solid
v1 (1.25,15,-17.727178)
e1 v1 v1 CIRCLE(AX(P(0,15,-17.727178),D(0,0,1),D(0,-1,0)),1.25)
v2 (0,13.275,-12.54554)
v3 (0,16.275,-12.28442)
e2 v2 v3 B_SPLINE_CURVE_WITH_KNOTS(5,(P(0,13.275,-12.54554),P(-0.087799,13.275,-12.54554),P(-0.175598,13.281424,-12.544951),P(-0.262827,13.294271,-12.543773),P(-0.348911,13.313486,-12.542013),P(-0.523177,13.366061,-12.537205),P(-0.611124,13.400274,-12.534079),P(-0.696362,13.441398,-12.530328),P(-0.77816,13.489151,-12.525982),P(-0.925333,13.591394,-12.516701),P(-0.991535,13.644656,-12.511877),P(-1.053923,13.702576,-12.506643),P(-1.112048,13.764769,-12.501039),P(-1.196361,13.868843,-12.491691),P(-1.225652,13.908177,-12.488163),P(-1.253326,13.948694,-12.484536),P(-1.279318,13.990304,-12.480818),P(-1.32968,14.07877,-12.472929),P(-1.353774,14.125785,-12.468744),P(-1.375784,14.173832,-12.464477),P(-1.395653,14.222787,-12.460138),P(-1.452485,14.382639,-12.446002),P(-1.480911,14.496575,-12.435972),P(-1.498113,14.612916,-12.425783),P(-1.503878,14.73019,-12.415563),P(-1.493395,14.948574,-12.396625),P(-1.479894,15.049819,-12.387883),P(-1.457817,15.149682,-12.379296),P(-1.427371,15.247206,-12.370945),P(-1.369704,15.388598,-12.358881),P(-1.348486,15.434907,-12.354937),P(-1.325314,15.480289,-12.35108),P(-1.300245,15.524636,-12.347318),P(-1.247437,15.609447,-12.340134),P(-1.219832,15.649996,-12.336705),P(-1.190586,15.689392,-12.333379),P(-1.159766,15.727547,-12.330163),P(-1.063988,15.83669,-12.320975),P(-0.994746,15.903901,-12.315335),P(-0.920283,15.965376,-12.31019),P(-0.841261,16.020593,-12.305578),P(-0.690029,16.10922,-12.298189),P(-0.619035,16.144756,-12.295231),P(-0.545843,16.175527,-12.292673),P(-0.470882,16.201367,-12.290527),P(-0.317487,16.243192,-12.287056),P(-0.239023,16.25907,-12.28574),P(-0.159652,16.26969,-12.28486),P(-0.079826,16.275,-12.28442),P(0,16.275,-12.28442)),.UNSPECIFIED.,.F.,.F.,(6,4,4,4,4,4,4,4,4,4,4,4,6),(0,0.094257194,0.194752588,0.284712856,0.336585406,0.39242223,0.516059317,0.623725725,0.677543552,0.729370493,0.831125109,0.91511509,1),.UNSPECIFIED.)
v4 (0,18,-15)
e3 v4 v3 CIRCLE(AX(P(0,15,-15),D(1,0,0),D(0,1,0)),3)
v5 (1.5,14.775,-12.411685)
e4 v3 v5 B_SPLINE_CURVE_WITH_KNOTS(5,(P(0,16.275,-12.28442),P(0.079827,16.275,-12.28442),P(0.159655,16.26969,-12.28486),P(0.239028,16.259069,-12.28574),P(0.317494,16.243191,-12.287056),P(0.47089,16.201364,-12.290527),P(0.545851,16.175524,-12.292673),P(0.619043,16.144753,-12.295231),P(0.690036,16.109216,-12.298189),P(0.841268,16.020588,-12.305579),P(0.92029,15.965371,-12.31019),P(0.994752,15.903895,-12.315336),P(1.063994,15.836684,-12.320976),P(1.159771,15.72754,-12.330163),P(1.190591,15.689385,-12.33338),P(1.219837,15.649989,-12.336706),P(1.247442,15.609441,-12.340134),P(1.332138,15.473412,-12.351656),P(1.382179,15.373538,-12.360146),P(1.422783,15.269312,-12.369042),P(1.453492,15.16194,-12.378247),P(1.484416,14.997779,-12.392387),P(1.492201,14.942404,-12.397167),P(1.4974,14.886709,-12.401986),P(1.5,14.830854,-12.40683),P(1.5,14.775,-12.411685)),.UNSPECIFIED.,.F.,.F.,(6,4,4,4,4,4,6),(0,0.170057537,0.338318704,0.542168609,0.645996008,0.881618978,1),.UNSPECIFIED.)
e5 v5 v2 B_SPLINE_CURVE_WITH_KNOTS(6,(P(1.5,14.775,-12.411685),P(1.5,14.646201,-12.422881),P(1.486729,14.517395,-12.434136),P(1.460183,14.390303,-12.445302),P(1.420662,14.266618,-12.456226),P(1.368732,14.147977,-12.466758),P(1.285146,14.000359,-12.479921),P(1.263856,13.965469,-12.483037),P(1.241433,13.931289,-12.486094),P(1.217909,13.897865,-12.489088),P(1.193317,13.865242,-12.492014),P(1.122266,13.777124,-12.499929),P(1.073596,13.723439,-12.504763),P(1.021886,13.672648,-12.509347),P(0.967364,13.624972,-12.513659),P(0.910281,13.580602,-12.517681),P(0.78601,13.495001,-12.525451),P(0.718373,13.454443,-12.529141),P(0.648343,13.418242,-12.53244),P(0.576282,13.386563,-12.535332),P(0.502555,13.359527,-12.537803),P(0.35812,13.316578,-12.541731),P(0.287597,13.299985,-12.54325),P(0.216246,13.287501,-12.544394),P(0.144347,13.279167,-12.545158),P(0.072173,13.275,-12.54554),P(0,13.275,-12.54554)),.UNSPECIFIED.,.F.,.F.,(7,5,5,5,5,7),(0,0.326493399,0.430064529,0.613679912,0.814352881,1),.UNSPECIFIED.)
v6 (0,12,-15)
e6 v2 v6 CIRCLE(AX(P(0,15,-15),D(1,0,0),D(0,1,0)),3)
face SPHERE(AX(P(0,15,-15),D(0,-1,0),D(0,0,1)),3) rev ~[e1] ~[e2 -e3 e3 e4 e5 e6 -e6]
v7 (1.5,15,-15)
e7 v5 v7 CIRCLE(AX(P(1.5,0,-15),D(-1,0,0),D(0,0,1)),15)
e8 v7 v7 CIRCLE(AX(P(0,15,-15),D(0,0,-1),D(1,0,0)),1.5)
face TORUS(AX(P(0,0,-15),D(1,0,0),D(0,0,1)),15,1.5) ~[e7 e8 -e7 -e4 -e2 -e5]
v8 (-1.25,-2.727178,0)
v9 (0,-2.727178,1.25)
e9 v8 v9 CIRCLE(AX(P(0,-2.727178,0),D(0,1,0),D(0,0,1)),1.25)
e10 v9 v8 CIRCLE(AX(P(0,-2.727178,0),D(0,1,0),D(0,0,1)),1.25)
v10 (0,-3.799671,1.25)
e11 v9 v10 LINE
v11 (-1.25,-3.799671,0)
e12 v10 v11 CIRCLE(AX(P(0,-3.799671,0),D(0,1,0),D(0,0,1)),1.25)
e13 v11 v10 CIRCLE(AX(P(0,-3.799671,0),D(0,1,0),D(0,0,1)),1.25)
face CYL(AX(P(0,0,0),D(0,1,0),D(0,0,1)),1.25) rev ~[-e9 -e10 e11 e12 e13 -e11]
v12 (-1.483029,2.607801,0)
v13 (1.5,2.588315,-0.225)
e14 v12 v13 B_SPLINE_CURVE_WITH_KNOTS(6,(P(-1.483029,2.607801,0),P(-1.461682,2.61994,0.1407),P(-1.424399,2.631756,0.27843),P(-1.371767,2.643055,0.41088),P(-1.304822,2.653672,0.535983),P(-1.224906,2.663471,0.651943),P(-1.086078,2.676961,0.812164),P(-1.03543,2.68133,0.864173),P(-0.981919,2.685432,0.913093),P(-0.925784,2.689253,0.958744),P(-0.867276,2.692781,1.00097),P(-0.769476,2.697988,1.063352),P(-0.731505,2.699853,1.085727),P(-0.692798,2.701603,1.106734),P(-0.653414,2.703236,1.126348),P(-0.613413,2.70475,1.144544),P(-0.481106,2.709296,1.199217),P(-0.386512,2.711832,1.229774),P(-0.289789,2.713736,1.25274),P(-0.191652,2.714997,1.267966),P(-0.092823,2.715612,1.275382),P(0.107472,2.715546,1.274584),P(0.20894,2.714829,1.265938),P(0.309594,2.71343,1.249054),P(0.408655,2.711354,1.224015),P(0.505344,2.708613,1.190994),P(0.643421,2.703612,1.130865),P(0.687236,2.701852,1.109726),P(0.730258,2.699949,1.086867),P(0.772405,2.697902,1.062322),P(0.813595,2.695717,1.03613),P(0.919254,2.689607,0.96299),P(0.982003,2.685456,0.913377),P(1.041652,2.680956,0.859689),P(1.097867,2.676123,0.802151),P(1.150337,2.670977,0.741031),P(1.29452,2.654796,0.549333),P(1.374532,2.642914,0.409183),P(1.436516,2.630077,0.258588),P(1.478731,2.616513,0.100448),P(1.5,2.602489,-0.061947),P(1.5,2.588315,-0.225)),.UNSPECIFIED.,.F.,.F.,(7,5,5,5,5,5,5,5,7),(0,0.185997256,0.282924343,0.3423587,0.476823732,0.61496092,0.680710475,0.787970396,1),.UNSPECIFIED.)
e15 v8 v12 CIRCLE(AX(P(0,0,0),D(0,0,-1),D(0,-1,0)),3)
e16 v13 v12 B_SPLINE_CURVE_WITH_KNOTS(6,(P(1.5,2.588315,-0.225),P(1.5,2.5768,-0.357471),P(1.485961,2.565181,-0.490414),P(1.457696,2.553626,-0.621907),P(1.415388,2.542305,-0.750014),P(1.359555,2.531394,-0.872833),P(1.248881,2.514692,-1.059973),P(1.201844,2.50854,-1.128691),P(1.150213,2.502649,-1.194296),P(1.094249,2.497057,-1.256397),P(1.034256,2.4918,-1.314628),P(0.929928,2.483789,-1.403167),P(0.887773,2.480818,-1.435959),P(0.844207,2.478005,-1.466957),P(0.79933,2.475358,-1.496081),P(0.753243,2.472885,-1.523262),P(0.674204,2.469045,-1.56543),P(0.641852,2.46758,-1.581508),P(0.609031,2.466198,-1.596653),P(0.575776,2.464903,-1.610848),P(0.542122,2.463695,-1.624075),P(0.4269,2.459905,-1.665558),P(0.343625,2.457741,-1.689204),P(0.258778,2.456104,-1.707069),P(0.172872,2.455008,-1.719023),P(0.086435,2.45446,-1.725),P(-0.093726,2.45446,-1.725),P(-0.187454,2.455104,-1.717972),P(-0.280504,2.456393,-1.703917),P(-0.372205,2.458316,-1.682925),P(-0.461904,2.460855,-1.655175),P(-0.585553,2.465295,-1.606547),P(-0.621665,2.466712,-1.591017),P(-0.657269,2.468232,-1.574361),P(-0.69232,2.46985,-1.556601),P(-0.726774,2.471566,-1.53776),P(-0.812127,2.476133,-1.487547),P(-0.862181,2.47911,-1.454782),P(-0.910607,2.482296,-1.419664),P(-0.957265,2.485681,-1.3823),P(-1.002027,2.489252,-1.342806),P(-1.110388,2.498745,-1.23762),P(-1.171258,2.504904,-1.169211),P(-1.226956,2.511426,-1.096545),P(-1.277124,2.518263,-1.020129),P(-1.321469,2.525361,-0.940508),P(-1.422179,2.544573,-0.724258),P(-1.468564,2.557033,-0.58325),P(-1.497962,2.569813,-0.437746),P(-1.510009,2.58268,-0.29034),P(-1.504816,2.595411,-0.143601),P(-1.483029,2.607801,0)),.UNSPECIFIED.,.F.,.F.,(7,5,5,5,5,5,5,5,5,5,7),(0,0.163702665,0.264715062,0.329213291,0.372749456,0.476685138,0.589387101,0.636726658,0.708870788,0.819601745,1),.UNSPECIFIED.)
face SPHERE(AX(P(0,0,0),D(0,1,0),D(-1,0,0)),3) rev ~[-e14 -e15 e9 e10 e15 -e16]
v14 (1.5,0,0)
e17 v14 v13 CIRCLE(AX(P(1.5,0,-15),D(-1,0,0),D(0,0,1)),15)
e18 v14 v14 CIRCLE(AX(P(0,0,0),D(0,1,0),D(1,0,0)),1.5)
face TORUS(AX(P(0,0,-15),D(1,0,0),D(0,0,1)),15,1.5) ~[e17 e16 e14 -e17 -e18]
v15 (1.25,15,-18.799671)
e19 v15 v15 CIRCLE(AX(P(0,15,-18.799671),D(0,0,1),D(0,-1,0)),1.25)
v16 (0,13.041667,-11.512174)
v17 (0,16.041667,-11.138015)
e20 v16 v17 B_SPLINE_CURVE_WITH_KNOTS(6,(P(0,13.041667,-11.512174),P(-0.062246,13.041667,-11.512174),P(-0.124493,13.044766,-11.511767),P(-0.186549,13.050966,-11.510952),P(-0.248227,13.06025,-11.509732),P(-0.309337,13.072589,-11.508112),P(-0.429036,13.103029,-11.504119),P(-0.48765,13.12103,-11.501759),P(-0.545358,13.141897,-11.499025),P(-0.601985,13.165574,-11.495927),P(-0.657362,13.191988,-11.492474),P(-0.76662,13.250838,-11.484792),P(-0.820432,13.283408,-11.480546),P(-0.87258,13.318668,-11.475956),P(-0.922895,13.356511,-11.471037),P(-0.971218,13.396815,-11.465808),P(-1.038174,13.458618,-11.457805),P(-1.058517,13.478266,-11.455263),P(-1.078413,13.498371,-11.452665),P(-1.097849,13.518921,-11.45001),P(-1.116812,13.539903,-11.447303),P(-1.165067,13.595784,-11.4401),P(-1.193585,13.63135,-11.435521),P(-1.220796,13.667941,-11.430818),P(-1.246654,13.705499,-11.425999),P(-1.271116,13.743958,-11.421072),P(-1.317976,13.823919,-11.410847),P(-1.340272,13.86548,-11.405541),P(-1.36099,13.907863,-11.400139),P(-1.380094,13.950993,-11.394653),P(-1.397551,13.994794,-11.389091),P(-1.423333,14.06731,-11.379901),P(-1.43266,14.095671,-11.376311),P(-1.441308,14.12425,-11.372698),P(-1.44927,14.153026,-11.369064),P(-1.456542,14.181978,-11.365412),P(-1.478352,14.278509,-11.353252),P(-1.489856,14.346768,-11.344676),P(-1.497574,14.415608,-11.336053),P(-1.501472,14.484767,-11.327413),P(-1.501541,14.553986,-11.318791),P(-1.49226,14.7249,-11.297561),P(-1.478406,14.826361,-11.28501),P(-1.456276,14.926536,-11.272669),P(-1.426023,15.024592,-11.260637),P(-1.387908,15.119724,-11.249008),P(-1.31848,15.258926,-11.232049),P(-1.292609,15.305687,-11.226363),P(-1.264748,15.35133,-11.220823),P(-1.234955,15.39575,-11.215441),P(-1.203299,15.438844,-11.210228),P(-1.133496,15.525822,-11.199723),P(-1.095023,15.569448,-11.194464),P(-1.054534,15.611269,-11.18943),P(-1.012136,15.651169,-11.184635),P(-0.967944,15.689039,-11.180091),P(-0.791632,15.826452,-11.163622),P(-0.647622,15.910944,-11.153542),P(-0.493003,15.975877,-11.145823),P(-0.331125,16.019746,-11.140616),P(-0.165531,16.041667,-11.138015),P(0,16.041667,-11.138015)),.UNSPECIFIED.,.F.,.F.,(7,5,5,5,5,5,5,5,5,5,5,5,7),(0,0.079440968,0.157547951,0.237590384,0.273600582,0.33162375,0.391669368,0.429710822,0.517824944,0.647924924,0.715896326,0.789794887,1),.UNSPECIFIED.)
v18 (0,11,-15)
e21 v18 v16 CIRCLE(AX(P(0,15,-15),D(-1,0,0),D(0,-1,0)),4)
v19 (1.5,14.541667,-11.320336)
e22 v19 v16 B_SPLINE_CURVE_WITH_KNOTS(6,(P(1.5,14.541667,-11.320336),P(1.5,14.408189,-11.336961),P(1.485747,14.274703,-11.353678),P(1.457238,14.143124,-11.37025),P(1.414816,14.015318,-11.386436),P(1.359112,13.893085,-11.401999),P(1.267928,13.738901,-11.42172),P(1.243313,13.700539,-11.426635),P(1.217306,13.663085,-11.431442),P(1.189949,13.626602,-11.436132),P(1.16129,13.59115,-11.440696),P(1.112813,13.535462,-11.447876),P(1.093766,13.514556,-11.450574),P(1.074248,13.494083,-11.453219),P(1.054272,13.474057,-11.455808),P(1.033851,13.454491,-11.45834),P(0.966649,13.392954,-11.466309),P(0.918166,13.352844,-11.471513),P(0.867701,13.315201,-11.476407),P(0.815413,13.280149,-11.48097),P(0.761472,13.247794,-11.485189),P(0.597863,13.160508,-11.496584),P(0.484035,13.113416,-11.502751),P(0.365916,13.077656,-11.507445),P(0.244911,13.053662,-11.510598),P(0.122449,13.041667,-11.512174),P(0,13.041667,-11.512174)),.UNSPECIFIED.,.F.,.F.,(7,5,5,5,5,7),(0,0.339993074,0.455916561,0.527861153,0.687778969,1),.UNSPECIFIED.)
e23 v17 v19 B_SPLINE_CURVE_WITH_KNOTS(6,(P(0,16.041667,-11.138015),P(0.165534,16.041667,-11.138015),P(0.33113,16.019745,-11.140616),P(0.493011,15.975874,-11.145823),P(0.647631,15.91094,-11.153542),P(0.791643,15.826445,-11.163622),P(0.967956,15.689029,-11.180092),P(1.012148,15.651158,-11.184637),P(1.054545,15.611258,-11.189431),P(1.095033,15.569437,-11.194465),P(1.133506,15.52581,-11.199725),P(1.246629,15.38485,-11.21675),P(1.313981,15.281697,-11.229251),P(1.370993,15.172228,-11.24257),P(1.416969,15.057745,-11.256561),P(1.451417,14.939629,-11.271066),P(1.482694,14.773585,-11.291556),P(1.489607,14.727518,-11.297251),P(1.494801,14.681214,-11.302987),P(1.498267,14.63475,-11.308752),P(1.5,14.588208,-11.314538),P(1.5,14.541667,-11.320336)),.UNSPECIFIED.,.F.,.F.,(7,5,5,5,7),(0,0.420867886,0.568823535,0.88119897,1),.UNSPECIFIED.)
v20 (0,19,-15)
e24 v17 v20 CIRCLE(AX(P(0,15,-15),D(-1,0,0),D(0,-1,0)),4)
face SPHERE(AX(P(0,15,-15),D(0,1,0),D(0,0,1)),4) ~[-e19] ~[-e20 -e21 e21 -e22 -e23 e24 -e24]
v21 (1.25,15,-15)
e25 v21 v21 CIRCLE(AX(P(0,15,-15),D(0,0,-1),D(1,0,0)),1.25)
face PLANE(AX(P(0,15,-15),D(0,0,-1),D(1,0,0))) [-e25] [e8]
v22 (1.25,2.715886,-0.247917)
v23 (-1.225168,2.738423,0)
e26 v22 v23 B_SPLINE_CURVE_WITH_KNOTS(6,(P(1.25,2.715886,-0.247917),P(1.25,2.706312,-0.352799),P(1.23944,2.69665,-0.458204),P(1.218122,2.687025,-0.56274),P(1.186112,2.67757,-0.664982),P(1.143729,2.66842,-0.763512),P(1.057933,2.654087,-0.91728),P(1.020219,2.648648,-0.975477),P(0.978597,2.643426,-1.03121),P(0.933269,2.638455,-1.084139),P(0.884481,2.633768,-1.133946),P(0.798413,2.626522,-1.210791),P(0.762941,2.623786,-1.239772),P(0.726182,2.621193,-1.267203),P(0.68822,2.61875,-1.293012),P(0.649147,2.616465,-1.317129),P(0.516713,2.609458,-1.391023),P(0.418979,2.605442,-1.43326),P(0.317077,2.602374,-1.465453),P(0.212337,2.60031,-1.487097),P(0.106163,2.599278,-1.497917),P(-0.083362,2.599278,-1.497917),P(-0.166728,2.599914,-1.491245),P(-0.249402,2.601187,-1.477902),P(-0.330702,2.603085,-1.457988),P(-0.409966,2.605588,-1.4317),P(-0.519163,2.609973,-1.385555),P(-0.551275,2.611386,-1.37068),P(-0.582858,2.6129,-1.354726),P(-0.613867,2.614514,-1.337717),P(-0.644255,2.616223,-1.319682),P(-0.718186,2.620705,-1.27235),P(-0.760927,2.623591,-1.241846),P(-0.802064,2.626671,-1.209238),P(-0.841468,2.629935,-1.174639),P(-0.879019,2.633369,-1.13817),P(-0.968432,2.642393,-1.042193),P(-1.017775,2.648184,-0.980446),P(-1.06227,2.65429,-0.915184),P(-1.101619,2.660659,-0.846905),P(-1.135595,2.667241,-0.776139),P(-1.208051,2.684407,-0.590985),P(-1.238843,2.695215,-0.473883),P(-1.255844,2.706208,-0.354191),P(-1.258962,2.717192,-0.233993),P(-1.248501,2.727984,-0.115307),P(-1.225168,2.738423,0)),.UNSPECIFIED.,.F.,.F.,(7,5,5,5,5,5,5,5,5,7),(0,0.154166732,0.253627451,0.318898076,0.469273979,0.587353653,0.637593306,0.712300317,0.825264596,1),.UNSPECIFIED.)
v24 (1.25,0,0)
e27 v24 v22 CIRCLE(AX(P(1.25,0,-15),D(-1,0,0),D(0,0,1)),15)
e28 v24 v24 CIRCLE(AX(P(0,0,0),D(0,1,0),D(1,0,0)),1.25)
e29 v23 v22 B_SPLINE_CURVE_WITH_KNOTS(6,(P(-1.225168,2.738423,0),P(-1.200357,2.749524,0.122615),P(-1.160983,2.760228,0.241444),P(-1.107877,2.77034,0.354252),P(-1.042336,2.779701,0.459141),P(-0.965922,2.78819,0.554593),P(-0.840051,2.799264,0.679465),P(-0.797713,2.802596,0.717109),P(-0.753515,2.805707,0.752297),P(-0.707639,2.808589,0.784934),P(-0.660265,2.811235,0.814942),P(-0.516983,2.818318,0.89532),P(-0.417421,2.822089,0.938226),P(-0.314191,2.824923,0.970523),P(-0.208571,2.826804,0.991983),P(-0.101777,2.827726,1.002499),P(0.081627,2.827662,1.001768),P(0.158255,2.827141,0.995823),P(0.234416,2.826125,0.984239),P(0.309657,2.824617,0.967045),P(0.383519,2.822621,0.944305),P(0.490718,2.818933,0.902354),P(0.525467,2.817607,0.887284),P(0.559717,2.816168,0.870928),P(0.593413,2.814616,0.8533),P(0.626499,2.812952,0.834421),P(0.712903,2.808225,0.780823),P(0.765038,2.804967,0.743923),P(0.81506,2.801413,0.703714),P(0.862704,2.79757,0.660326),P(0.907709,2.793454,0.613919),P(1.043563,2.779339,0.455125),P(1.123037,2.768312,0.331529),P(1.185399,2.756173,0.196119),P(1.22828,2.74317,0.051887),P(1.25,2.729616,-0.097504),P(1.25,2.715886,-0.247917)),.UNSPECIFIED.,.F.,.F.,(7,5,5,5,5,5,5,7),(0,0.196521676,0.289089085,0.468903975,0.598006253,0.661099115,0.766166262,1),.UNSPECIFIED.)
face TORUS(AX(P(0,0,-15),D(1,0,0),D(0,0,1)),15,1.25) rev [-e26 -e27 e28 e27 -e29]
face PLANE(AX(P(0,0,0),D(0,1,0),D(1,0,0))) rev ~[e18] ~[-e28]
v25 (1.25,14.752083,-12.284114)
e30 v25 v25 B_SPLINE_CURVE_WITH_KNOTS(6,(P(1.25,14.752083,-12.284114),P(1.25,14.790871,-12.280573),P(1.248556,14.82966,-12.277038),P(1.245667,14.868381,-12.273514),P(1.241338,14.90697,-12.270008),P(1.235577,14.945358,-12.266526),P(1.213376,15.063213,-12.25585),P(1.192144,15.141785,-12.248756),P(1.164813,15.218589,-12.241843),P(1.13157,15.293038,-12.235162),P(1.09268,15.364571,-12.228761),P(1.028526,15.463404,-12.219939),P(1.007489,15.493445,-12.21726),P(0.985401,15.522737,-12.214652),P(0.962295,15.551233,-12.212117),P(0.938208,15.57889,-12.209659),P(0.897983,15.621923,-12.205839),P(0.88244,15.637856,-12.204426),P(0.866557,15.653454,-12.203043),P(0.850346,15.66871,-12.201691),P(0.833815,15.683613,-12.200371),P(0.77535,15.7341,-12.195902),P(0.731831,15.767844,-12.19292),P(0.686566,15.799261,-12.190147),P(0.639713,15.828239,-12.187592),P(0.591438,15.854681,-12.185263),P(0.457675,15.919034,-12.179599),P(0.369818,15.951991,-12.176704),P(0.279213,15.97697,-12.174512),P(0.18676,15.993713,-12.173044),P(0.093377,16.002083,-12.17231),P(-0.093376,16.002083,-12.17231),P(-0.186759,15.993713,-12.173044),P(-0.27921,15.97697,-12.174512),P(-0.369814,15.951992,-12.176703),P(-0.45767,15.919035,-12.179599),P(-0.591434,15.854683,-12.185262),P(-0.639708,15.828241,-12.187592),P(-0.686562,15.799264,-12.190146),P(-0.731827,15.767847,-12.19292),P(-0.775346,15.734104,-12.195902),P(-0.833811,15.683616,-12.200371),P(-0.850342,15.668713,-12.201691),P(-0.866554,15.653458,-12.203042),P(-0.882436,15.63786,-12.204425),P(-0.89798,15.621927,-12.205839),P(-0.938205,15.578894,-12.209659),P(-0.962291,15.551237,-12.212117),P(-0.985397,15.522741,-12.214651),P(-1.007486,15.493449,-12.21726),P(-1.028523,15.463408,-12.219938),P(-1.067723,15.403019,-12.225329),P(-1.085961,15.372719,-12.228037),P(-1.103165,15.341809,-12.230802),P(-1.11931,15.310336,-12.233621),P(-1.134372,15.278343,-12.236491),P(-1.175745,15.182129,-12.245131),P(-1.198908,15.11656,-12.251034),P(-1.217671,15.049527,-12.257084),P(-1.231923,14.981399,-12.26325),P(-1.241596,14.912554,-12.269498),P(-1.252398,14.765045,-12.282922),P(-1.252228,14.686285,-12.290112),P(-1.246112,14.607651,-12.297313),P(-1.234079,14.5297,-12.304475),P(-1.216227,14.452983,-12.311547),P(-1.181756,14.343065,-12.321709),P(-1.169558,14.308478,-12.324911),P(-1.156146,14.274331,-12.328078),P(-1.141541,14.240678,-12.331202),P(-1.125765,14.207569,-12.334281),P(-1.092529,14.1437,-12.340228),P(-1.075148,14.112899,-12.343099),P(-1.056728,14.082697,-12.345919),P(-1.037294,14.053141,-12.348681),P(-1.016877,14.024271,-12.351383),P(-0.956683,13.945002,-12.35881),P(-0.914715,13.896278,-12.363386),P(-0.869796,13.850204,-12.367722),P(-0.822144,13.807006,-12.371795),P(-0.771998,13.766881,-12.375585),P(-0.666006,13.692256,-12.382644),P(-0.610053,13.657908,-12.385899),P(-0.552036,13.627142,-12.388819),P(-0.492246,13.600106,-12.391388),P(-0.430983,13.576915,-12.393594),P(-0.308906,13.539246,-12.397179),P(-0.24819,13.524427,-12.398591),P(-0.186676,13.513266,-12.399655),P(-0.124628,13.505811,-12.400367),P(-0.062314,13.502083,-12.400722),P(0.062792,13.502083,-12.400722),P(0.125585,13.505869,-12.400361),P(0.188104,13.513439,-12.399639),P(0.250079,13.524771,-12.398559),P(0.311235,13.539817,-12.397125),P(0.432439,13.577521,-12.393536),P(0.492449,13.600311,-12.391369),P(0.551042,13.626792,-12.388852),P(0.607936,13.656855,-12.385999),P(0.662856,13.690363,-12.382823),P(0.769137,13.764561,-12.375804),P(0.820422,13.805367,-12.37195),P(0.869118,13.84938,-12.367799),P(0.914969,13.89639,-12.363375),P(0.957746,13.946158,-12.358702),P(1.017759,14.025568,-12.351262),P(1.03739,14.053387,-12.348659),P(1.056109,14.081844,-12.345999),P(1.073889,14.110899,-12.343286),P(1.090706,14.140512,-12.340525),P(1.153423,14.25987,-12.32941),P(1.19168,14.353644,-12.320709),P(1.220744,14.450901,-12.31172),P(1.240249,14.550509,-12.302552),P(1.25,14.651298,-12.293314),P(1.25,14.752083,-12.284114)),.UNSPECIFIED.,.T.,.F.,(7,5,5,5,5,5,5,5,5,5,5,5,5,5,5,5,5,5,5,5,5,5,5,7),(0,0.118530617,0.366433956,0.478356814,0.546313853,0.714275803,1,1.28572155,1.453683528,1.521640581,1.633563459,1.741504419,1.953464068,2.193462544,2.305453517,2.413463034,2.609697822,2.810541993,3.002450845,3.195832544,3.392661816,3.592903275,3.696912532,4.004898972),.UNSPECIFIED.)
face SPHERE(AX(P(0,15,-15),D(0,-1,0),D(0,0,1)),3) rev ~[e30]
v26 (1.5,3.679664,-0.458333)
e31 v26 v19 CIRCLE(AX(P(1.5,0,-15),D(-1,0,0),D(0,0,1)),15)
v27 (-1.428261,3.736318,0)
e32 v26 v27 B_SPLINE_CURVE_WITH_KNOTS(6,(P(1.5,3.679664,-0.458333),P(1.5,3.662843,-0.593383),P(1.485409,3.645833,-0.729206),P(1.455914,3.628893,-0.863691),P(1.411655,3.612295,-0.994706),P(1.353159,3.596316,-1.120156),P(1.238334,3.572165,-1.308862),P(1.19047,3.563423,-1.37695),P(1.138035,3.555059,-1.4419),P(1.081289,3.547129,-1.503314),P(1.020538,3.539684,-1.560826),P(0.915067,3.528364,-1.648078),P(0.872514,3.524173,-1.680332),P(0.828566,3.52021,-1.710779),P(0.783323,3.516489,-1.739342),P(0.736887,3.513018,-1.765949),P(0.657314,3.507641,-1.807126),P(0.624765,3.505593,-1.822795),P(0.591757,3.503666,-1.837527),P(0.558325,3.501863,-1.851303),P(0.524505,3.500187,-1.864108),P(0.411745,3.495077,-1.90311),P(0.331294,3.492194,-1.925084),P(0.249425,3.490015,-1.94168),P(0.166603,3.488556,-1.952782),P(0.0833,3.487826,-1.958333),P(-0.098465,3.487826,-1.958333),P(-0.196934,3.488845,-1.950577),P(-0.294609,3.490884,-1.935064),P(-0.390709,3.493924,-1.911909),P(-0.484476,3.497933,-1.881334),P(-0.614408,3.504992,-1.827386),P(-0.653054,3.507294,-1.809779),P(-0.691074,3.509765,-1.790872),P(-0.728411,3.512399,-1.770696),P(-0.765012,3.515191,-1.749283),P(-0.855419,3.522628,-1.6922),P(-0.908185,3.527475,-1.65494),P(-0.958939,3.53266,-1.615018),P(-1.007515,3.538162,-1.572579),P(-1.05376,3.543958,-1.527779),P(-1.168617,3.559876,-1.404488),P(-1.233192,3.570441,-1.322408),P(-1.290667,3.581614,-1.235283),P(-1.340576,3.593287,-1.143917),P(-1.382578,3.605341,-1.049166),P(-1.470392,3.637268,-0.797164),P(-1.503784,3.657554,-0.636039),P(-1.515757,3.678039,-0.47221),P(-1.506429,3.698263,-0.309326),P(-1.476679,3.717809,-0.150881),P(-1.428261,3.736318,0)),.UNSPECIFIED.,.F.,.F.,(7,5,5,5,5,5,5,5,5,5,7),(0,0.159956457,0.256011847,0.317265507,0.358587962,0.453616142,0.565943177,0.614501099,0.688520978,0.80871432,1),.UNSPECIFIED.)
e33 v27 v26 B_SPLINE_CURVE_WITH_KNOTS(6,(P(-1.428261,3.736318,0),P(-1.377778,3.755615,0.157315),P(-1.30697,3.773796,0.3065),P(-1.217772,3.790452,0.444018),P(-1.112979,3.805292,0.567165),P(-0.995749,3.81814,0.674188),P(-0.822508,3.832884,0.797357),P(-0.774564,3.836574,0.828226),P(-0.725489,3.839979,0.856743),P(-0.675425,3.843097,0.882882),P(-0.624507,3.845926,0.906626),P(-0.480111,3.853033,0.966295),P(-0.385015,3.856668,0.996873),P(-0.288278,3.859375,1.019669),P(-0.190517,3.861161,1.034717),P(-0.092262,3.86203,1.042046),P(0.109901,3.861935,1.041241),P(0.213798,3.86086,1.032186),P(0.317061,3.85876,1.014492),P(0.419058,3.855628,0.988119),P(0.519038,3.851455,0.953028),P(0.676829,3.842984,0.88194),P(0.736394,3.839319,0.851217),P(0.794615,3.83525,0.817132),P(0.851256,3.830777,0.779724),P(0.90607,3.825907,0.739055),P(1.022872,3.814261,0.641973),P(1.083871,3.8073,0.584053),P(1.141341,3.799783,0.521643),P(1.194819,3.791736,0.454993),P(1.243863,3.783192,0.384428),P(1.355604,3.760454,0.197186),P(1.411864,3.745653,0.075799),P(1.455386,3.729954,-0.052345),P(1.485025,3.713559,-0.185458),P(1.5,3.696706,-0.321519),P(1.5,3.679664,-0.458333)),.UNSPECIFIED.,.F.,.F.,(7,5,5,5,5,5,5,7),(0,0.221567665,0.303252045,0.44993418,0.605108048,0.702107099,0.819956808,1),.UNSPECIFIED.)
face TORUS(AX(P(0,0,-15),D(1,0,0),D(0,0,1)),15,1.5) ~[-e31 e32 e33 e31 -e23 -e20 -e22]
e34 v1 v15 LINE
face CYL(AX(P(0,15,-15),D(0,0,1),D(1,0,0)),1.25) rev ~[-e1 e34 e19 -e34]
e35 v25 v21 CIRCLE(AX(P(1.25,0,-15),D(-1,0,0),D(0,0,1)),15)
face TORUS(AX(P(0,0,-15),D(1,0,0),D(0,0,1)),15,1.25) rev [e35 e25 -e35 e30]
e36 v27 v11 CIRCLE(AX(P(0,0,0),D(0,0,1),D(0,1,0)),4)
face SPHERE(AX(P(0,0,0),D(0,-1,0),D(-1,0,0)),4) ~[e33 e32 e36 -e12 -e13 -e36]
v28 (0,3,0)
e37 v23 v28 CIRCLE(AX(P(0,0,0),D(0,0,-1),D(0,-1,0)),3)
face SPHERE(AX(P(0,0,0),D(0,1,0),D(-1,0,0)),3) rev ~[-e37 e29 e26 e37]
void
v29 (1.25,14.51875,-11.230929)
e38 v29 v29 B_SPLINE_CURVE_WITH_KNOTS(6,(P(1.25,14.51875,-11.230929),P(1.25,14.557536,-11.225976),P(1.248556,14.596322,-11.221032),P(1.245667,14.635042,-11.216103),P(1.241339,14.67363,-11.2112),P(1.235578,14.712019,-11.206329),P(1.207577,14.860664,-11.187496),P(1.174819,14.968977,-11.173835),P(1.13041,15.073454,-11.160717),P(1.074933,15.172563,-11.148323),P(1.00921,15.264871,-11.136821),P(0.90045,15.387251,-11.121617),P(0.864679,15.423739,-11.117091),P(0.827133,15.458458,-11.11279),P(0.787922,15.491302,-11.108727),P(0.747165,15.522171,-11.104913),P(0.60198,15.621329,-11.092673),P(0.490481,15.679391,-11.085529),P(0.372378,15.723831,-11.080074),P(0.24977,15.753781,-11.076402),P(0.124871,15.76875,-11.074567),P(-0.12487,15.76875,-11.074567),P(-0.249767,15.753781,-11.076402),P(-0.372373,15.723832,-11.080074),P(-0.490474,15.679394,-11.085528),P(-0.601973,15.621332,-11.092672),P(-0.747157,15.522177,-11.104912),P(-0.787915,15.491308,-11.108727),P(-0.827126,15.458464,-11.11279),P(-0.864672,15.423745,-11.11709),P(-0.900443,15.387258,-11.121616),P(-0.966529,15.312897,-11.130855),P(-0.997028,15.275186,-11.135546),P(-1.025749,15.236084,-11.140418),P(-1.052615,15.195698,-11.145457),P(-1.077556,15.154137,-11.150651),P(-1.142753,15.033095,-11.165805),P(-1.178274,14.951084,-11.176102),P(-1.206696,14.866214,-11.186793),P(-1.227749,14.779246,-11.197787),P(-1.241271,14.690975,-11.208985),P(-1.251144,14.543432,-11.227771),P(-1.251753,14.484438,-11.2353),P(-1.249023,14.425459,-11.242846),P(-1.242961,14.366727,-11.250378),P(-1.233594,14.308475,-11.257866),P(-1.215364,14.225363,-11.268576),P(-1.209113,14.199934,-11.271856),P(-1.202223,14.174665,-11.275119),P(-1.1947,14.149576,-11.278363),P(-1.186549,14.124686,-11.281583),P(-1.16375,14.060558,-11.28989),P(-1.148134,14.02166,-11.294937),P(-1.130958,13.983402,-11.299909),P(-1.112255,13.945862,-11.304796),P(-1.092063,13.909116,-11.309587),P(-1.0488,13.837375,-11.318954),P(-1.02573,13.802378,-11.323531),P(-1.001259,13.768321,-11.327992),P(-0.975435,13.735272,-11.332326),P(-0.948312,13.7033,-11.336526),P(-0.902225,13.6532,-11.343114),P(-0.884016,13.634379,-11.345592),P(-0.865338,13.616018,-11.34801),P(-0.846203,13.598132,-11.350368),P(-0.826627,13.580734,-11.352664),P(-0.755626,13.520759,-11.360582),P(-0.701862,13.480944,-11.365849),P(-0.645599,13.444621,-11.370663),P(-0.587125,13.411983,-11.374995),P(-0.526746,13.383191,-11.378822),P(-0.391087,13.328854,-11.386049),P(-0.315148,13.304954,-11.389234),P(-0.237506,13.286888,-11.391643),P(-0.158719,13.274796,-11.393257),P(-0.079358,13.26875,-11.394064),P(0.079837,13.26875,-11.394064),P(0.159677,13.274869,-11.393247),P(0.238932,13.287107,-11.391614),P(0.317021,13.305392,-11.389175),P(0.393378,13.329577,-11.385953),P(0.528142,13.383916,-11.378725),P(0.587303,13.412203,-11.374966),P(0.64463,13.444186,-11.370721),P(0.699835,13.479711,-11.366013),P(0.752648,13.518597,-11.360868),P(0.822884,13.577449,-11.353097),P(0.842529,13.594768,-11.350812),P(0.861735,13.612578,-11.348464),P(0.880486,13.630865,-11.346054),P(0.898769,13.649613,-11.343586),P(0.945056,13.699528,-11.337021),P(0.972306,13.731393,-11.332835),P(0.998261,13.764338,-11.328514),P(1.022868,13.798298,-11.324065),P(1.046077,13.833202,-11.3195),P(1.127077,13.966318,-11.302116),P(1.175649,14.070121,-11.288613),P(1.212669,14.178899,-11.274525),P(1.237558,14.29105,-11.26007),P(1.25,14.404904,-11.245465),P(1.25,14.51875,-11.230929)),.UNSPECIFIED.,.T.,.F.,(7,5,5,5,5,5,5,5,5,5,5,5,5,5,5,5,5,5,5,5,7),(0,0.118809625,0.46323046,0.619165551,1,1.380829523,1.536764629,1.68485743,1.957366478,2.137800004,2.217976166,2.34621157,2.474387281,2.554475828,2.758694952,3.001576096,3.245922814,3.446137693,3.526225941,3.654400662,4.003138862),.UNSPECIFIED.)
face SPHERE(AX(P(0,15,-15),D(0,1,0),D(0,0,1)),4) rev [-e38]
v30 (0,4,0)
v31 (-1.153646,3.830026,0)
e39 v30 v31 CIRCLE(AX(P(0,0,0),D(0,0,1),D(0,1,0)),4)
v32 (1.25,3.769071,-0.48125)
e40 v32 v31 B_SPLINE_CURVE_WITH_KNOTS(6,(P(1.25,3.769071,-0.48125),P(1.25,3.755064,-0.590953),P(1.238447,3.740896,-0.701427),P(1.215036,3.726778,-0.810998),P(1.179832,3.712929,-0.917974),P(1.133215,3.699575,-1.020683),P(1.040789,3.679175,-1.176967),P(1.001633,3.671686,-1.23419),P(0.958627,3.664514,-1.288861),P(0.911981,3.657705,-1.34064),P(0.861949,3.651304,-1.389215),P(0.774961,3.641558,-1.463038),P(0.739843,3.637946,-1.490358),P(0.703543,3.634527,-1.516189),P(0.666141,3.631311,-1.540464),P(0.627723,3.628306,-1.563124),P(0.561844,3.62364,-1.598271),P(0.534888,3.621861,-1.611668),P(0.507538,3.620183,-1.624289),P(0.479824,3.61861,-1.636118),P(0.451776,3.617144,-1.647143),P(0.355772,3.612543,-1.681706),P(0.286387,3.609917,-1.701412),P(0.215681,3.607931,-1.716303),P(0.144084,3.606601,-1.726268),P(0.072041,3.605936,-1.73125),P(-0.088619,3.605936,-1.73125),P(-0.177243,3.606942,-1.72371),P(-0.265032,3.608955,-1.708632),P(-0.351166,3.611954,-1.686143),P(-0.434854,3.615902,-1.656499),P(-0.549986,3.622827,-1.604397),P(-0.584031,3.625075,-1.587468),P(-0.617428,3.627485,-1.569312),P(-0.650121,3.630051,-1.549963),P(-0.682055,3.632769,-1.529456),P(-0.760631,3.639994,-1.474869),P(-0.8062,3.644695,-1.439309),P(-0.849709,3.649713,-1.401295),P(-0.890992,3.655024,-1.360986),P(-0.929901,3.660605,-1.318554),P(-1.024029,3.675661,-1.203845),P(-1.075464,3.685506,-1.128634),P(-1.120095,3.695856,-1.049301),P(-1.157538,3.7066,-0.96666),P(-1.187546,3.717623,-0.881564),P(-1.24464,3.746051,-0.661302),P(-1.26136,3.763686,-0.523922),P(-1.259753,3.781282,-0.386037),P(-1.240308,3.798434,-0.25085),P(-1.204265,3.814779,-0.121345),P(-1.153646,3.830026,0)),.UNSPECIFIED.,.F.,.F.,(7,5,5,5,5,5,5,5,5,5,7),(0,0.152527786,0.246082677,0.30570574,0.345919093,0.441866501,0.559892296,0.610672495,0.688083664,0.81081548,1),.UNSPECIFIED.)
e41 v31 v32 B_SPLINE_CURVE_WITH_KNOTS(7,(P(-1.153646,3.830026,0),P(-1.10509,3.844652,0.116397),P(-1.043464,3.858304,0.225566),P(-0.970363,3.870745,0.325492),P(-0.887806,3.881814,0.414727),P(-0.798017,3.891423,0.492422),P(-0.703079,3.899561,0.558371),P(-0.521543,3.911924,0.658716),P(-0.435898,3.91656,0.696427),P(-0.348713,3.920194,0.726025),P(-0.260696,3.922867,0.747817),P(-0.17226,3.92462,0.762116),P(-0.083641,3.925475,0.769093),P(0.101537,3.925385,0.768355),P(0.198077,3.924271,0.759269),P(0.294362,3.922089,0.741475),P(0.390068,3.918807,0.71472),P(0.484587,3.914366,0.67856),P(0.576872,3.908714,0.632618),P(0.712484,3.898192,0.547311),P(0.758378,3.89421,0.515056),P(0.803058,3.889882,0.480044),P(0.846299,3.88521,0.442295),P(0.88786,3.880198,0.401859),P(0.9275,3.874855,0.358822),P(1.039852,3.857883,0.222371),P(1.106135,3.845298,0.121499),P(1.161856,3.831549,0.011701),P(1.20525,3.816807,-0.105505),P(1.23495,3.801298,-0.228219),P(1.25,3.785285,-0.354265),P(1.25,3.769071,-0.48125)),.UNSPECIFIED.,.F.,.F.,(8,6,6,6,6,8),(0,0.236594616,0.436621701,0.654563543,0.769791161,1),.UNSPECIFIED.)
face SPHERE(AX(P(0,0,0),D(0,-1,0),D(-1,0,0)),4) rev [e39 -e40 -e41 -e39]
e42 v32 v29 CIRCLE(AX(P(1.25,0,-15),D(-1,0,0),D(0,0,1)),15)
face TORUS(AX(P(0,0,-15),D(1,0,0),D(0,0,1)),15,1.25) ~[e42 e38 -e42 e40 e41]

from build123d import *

# Parameters (mm, degrees)
ESQUISSE2_R             = 1.5
ESQUISSE2_R_2           = 1.25
R_VOLUTION2_ANGLE       = 90
ESQUISSE4_R             = 1.25
ENL_V_MAT_EXTRU_1_DEPTH = 10
ESQUISSE5_R             = 1.25
ENL_V_MAT_EXTRU_2_DEPTH = 10


with BuildPart() as part:
    # Esquisse1 → Révolution1 (revolve)
    with BuildSketch(Plane.XY):
        with BuildLine():
            Line((0, -4), (0, -3))
            ThreePointArc((0, -3), (-3, 0), (0, 3))
            Line((0, 3), (0, 4))
            ThreePointArc((0, 4), (-4, 0), (0, -4))
        make_face()
    revolve(axis=Axis((0, -4, 0), (0, 1, 0)))

    # Esquisse2 → Révolution2 (revolve)
    with BuildSketch(Plane(origin=(0, 0, 0), x_dir=(1, 0, 0), z_dir=(0, 1, 0))):
        Circle(ESQUISSE2_R)
        Circle(ESQUISSE2_R_2, mode=Mode.SUBTRACT)
    revolve(axis=Axis((-4.701525907, 0, -15), (-1, 0, 0)), revolution_arc=R_VOLUTION2_ANGLE)

    # Esquisse3 → Révolution3 (revolve)
    with BuildSketch(Plane(origin=(0, 0, 0), x_dir=(0, 0, -1), z_dir=(1, 0, 0))):
        with BuildLine():
            Line((15, 19), (15, 18))
            ThreePointArc((15, 18), (12, 15), (15, 12))
            Line((15, 12), (15, 11))
            ThreePointArc((15, 11), (11, 15), (15, 19))
        make_face()
    revolve(axis=Axis((0, 19, -15), (0, -1, 0)))

    # Esquisse4 → Enlèv. mat.-Extru.1 (cut)
    with BuildSketch(Plane(origin=(0, 0, 0), x_dir=(1, 0, 0), z_dir=(0, 1, 0))):
        with Locations(Location((0, 0, 0), (0, 0, 270))):
            Circle(ESQUISSE4_R)
    extrude(amount=-ENL_V_MAT_EXTRU_1_DEPTH, mode=Mode.SUBTRACT)

    # Esquisse5 → Enlèv. mat.-Extru.2 (cut)
    with BuildSketch(Plane.XY.offset(-15)):
        with Locations((0, 15)):
            Circle(ESQUISSE5_R)
    extrude(amount=-ENL_V_MAT_EXTRU_2_DEPTH, mode=Mode.SUBTRACT)


solid = part.part
